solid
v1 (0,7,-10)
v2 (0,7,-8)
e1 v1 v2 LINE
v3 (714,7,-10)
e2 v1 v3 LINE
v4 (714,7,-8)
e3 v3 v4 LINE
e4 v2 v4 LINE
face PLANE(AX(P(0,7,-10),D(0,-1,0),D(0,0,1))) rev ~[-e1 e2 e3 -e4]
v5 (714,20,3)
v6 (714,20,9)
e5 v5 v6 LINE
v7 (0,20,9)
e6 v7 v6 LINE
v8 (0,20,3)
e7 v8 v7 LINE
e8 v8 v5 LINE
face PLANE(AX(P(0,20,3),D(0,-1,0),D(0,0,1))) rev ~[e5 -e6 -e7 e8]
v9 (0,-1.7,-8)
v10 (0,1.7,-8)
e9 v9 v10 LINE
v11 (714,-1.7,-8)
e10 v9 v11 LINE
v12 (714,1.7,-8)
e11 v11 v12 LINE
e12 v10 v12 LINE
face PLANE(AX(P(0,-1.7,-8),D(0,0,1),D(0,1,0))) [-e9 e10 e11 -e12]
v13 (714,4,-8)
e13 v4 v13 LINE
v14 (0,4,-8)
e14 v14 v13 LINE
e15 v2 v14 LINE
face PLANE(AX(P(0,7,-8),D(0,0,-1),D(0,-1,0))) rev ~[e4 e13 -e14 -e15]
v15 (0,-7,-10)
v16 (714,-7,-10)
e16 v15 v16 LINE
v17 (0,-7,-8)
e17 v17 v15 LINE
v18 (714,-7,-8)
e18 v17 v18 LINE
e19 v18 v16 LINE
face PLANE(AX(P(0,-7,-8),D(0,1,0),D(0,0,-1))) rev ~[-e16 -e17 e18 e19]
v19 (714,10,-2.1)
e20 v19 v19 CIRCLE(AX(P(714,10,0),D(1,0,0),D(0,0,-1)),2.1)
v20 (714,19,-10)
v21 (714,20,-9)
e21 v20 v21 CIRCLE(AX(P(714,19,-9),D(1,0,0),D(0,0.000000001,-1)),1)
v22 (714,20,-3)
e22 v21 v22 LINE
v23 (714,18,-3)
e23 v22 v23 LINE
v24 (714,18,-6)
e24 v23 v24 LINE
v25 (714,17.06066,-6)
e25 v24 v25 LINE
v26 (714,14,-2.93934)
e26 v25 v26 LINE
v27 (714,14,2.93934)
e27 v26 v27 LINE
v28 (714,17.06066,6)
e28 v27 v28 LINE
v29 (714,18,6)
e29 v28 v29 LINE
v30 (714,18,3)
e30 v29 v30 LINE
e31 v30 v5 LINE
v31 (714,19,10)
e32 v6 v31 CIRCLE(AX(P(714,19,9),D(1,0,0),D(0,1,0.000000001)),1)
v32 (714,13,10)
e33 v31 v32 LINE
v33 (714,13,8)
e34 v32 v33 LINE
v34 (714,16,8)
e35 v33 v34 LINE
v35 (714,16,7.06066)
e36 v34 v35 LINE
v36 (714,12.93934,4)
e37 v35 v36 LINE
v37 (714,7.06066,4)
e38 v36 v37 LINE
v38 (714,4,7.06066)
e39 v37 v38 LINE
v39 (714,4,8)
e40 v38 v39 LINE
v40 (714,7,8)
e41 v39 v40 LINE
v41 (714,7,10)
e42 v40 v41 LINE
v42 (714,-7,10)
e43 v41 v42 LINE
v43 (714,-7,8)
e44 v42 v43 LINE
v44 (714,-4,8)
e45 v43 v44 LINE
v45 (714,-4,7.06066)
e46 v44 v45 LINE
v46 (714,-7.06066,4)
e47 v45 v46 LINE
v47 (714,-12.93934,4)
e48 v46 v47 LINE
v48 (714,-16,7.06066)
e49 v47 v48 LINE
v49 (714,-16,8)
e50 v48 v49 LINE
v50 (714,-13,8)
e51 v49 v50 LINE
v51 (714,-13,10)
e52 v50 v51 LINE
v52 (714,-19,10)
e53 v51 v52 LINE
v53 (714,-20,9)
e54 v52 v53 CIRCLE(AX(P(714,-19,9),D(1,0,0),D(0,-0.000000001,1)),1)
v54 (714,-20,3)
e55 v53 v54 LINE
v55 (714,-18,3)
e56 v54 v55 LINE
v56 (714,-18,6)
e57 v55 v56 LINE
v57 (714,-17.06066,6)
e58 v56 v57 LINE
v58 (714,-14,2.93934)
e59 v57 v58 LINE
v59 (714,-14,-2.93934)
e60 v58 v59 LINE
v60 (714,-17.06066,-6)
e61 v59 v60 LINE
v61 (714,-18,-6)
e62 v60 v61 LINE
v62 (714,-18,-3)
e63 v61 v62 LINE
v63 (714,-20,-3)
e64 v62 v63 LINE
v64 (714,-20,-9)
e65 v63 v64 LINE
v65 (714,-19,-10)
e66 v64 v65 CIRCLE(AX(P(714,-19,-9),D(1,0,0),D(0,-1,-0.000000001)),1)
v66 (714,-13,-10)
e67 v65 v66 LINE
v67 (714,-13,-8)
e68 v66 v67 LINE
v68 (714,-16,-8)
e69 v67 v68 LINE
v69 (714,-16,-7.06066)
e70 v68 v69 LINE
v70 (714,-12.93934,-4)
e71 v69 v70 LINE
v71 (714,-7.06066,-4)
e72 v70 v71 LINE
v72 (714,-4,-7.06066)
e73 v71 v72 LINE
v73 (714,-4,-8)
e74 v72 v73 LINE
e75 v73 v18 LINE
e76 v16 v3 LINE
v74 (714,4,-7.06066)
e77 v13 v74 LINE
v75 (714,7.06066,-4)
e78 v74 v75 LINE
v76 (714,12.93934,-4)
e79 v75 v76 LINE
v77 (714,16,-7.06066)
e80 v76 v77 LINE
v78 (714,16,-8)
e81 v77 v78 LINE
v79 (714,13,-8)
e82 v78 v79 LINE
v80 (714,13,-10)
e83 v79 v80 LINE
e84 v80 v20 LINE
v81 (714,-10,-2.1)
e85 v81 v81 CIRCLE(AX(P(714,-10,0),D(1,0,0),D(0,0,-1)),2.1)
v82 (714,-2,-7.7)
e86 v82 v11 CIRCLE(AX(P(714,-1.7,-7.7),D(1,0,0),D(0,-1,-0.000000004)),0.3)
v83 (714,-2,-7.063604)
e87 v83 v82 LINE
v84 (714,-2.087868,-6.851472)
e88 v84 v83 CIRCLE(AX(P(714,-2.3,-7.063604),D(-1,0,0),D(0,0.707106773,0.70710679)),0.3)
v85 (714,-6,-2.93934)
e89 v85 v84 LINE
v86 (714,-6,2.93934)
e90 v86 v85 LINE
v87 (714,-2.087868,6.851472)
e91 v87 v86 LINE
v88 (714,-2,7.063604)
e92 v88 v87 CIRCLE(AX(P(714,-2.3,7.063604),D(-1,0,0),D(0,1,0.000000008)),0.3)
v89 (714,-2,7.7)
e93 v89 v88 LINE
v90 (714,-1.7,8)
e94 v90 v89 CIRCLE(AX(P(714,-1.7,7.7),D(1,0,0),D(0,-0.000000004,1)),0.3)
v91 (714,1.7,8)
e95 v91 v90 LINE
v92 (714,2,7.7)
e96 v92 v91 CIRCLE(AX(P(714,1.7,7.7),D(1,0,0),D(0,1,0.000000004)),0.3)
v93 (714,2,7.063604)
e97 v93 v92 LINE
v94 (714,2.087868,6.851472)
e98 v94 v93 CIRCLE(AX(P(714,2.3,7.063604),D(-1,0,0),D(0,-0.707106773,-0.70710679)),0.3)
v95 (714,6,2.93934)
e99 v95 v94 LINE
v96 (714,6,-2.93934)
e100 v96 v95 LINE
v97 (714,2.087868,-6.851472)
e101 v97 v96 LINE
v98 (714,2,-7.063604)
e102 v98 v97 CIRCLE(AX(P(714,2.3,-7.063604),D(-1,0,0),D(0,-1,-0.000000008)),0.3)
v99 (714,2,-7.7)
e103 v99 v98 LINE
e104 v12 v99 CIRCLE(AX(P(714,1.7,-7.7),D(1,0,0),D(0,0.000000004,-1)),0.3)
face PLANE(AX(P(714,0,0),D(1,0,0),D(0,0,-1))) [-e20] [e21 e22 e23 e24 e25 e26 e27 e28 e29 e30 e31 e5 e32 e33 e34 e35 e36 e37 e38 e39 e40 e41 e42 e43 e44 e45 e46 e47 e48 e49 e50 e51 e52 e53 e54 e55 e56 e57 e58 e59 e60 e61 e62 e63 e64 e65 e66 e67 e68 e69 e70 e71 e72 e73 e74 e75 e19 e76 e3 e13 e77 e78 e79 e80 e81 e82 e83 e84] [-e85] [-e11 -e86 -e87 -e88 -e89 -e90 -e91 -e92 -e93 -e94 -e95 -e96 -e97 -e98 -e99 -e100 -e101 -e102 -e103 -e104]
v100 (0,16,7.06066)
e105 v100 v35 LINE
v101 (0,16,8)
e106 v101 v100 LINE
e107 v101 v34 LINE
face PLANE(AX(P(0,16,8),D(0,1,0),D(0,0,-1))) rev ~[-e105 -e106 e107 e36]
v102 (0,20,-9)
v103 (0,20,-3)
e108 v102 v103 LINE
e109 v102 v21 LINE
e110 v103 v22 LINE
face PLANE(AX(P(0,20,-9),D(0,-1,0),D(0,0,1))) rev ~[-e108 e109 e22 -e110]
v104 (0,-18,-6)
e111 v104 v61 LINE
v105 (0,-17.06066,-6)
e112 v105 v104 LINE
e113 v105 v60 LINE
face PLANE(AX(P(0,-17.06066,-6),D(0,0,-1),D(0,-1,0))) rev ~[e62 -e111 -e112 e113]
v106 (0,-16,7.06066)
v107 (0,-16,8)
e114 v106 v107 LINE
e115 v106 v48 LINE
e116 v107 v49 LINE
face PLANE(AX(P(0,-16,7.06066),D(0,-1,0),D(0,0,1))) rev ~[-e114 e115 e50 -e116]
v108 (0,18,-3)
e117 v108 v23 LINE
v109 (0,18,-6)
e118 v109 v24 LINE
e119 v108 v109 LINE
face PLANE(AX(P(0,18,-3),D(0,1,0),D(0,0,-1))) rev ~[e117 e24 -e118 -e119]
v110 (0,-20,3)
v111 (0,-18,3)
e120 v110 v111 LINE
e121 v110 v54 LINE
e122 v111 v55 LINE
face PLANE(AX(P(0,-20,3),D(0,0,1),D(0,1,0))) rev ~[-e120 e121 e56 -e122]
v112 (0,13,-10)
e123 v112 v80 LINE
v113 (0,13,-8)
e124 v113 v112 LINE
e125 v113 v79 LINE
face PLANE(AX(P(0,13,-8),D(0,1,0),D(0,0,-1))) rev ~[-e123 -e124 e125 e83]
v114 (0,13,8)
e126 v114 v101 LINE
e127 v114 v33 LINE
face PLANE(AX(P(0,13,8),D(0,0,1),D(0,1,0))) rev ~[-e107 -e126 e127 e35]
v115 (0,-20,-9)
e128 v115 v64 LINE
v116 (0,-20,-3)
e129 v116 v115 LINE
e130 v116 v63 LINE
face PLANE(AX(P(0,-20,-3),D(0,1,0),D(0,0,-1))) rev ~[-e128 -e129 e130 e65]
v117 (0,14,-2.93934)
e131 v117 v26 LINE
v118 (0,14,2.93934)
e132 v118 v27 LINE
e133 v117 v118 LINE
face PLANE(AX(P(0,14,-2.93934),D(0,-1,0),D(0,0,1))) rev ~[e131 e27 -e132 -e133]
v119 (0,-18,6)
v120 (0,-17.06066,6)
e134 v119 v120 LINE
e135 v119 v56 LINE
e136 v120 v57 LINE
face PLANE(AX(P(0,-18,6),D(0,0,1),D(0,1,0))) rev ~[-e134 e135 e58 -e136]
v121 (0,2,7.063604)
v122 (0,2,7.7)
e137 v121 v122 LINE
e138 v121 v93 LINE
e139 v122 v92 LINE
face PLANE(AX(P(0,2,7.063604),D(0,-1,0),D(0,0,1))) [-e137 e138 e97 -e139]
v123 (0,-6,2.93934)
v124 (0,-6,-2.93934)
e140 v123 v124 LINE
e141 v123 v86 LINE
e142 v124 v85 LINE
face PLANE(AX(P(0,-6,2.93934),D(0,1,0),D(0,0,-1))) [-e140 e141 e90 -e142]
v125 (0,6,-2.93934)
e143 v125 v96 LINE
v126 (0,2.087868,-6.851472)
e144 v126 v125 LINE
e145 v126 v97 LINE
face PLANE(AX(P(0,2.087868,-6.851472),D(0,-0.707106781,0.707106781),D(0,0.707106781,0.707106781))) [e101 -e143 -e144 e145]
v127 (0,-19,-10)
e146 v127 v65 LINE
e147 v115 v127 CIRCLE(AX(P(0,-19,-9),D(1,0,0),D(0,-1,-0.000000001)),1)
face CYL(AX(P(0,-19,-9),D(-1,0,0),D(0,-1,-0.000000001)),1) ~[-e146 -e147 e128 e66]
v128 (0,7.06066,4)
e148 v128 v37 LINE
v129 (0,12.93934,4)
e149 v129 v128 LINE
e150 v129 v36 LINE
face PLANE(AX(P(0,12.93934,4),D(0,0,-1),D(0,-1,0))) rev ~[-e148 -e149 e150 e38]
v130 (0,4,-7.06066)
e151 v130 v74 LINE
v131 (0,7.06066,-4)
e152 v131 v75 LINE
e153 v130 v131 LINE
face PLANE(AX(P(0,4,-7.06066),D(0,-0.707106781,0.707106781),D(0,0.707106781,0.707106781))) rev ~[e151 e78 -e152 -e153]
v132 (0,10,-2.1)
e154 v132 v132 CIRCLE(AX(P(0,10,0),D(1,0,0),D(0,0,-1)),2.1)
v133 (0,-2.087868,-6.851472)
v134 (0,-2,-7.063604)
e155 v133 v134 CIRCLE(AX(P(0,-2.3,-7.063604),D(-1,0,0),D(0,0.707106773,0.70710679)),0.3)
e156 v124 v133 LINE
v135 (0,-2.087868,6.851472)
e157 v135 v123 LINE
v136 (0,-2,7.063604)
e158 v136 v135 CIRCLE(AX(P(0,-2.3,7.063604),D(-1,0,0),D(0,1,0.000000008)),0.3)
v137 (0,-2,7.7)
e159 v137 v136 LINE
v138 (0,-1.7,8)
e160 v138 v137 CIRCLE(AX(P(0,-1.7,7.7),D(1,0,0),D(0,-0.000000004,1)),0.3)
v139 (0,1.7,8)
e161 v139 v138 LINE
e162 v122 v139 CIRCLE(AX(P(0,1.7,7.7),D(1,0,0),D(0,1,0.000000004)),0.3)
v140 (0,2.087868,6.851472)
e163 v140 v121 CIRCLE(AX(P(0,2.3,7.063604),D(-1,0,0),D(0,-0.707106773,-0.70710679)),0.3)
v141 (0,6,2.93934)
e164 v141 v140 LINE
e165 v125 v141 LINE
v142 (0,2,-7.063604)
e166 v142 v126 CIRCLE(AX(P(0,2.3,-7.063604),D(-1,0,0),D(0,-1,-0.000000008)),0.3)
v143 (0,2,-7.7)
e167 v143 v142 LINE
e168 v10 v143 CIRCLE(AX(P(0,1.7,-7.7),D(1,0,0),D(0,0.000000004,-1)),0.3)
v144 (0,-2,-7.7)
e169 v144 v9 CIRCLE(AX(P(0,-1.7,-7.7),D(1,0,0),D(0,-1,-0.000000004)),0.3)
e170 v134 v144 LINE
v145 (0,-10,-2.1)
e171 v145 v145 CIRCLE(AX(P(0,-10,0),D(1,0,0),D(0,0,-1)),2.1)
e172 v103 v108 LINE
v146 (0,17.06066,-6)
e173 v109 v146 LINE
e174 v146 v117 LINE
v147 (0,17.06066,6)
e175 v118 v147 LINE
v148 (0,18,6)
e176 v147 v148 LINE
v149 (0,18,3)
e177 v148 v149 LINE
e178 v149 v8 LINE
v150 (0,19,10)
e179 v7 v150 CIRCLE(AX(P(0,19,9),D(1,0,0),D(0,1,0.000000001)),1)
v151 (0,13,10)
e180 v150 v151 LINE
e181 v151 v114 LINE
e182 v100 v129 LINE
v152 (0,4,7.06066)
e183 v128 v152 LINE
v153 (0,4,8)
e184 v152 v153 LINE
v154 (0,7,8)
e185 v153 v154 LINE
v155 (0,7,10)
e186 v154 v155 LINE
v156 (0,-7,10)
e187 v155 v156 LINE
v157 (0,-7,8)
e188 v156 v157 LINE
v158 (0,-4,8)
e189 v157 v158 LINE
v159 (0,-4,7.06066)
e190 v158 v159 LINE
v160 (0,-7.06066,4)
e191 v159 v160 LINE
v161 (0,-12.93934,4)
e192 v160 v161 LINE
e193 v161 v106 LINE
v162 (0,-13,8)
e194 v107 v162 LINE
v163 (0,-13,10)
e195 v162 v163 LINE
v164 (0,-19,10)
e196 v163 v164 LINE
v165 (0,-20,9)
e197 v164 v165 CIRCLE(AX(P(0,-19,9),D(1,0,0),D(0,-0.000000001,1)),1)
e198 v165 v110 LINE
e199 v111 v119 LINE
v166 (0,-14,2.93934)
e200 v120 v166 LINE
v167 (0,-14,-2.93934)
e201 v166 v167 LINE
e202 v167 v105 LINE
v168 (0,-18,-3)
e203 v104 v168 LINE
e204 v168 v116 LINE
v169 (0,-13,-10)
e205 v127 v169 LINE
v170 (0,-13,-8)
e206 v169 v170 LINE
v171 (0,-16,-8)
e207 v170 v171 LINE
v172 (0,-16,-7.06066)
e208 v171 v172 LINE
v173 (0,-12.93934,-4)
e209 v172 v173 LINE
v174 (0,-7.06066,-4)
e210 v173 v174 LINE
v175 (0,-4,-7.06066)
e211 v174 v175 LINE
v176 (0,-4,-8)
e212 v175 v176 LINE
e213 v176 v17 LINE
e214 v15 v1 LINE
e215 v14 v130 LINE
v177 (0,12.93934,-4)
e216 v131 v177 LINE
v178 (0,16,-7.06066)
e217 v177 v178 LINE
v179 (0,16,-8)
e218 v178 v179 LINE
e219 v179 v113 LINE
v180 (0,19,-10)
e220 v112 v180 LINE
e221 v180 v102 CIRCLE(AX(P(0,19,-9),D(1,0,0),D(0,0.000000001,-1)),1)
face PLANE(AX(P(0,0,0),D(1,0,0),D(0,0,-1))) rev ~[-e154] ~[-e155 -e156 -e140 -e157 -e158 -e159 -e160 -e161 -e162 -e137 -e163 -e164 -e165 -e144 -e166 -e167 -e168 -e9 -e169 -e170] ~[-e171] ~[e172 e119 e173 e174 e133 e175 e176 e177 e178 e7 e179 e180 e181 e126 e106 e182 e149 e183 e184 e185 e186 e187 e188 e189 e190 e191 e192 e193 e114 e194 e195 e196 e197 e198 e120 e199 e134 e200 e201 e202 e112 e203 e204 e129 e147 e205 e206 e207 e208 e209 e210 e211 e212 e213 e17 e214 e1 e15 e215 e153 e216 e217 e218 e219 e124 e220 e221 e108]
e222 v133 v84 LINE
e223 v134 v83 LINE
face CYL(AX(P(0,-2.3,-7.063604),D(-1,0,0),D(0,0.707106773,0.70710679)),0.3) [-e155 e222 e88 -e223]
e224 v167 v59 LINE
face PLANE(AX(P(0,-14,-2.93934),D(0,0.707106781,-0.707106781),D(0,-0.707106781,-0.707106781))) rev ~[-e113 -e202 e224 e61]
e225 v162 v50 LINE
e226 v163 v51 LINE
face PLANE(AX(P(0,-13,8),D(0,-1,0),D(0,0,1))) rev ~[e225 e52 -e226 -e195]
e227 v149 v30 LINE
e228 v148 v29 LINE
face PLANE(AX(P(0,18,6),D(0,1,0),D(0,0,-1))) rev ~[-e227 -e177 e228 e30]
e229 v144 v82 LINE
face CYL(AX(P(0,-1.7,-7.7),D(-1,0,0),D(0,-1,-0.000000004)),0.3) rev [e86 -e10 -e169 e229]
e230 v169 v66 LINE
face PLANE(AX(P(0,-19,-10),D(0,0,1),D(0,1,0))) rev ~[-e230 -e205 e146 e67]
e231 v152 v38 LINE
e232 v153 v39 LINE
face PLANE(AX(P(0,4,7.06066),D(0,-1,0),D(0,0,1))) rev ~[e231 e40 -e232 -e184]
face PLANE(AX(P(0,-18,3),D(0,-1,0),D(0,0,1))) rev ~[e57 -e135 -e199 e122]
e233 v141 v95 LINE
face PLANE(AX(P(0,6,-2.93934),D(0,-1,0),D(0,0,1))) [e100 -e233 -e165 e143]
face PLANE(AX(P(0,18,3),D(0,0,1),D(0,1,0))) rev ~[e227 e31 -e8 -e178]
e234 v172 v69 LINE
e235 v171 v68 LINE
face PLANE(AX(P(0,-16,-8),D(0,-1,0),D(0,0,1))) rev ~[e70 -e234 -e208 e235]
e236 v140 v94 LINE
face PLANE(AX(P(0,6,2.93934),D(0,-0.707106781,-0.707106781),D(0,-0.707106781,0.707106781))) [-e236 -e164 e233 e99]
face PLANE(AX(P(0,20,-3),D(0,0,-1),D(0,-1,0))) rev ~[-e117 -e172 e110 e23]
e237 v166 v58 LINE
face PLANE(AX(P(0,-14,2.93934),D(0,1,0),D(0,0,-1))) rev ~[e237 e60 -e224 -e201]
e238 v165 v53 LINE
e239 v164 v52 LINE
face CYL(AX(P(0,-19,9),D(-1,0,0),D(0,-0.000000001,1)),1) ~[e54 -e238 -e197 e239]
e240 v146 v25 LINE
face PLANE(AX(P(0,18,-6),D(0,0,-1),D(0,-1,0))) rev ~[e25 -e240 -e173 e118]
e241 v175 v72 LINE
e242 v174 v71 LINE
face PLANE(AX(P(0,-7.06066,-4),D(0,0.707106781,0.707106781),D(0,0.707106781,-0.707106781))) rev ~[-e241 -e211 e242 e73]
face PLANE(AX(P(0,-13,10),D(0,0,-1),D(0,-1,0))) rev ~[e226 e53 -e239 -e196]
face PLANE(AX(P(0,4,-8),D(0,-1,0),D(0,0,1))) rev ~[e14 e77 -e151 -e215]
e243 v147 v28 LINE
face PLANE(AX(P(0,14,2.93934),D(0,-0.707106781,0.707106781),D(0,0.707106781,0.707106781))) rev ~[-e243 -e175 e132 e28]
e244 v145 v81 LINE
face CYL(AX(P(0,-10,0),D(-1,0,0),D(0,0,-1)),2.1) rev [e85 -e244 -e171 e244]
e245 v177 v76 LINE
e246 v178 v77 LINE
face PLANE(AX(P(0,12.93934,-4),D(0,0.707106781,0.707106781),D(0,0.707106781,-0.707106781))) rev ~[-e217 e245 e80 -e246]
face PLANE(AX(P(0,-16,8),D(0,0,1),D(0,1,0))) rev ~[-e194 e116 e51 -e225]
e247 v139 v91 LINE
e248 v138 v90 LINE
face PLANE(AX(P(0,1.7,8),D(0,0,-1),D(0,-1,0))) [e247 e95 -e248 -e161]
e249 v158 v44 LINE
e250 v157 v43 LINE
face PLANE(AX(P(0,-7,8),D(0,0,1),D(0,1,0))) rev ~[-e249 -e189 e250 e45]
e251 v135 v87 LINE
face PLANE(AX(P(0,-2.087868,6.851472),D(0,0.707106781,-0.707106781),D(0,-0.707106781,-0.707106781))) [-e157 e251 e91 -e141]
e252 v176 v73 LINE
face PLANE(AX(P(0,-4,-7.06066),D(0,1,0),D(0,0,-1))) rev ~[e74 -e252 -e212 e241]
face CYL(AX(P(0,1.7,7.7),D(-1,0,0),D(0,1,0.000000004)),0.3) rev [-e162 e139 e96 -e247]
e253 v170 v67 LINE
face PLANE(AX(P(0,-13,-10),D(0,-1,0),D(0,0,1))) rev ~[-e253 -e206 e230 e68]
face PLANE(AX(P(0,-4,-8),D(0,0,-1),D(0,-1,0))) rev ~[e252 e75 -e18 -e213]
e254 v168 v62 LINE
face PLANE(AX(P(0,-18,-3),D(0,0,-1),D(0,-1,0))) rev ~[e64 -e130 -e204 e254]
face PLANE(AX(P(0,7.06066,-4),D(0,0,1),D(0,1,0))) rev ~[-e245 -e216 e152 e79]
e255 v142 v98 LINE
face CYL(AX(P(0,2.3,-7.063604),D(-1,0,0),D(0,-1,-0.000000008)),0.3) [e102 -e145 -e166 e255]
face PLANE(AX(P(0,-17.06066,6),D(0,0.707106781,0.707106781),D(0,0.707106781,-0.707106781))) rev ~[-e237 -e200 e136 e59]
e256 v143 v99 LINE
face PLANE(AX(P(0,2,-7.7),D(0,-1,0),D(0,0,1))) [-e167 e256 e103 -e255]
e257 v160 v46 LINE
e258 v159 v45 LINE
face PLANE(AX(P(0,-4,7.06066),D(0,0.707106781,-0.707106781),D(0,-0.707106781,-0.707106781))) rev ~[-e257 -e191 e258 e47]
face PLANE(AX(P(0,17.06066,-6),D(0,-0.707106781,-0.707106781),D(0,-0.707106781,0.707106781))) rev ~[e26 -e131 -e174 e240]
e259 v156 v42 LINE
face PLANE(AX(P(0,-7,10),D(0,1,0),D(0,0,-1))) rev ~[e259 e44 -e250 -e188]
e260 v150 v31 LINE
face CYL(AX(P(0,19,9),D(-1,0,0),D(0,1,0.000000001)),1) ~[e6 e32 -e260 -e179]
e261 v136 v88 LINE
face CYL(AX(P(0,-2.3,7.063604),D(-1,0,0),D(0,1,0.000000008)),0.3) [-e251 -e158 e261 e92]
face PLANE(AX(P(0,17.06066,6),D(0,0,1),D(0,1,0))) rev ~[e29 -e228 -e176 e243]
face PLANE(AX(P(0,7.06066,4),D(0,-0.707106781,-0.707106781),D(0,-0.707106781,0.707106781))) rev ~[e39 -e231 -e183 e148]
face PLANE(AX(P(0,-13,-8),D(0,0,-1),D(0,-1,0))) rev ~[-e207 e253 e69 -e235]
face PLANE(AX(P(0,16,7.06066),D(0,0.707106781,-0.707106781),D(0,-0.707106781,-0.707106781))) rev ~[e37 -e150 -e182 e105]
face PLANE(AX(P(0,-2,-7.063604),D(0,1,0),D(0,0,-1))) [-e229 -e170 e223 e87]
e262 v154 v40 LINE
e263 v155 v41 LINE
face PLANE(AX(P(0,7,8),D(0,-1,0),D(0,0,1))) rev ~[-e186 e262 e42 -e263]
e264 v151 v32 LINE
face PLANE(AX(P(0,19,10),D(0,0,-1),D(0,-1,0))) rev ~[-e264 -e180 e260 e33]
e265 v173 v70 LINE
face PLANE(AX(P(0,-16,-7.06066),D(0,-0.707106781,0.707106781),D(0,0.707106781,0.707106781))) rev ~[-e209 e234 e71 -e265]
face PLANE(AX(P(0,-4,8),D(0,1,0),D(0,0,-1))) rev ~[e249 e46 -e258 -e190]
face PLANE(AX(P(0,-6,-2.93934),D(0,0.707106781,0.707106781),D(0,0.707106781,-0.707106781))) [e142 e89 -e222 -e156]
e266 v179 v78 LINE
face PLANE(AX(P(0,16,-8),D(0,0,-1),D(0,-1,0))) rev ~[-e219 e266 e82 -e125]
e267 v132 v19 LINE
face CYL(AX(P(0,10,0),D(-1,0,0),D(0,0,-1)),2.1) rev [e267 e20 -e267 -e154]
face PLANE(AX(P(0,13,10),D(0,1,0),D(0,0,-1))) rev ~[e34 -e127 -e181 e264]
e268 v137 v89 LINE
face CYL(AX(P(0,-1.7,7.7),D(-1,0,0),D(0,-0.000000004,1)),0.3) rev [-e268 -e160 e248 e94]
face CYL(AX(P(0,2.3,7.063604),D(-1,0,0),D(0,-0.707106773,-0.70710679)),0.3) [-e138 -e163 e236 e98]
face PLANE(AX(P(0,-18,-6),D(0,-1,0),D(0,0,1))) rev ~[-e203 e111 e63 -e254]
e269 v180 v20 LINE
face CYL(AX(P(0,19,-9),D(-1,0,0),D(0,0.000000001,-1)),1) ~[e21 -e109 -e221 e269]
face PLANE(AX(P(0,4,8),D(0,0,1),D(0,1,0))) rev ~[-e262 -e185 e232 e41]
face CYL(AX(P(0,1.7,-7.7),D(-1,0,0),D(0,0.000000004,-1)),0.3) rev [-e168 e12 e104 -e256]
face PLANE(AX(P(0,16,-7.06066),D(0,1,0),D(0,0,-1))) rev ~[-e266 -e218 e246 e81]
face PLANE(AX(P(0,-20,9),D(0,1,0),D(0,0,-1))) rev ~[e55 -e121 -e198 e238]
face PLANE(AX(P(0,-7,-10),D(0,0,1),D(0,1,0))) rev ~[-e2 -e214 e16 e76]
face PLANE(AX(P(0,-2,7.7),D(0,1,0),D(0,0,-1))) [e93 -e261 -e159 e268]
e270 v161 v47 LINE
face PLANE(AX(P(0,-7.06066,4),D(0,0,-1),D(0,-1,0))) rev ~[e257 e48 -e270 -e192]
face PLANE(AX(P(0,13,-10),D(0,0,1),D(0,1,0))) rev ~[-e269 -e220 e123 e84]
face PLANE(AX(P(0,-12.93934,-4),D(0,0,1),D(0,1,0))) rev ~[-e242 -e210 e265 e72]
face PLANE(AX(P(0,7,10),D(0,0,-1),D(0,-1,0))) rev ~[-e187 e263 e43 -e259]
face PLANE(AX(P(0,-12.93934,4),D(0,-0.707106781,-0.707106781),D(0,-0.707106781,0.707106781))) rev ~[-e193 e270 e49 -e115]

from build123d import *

# Parameters (mm, degrees)
SKETCH1_R           = 2.1
BOSS_EXTRUDE1_DEPTH = 714


with BuildPart() as part:
    # Sketch1 → Boss-Extrude1 (new body)
    with BuildSketch(Plane(origin=(0, 0, 0), x_dir=(0, 0, -1), z_dir=(1, 0, 0))):
        with BuildLine():
            Line((-10, -13), (-10, -19))
            ThreePointArc((-10, -19), (-9.707106781, -19.707106781), (-9, -20))
            Line((-9, -20), (-3, -20))
            Line((-3, -20), (-3, -18))
            Line((-3, -18), (-6, -18))
            Line((-6, -18), (-6, -17.060660172))
            Line((-6, -17.060660172), (-2.939339828, -14))
            Line((-2.939339828, -14), (2.939339828, -14))
            Line((2.939339828, -14), (6, -17.060660172))
            Line((6, -17.060660172), (6, -18))
            Line((6, -18), (3, -18))
            Line((3, -18), (3, -20))
            Line((3, -20), (9, -20))
            ThreePointArc((9, -20), (9.707106781, -19.707106781), (10, -19))
            Line((10, -19), (10, -13))
            Line((10, -13), (8, -13))
            Line((8, -13), (8, -16))
            Line((8, -16), (7.060660172, -16))
            Line((7.060660172, -16), (4, -12.939339828))
            Line((4, -12.939339828), (4, -7.060660172))
            Line((4, -7.060660172), (7.060660172, -4))
            Line((7.060660172, -4), (8, -4))
            Line((8, -4), (8, -7))
            Line((8, -7), (10, -7))
            Line((10, -7), (10, 7))
            Line((10, 7), (8, 7))
            Line((8, 7), (8, 4))
            Line((8, 4), (7.060660172, 4))
            Line((7.060660172, 4), (4, 7.060660172))
            Line((4, 7.060660172), (4, 12.939339828))
            Line((4, 12.939339828), (7.060660172, 16))
            Line((7.060660172, 16), (8, 16))
            Line((8, 16), (8, 13))
            Line((8, 13), (10, 13))
            Line((10, 13), (10, 19))
            ThreePointArc((10, 19), (9.707106781, 19.707106781), (9, 20))
            Line((9, 20), (3, 20))
            Line((3, 20), (3, 18))
            Line((3, 18), (6, 18))
            Line((6, 18), (6, 17.060660172))
            Line((6, 17.060660172), (2.939339828, 14))
            Line((2.939339828, 14), (-2.939339828, 14))
            Line((-2.939339828, 14), (-6, 17.060660172))
            Line((-6, 17.060660172), (-6, 18))
            Line((-6, 18), (-3, 18))
            Line((-3, 18), (-3, 20))
            Line((-3, 20), (-9, 20))
            ThreePointArc((-9, 20), (-9.707106781, 19.707106781), (-10, 19))
            Line((-10, 19), (-10, 13))
            Line((-10, 13), (-8, 13))
            Line((-8, 13), (-8, 16))
            Line((-8, 16), (-7.060660172, 16))
            Line((-7.060660172, 16), (-4, 12.939339828))
            Line((-4, 12.939339828), (-4, 7.060660172))
            Line((-4, 7.060660172), (-7.060660172, 4))
            Line((-7.060660172, 4), (-8, 4))
            Line((-8, 4), (-8, 7))
            Line((-8, 7), (-10, 7))
            Line((-10, 7), (-10, -7))
            Line((-10, -7), (-8, -7))
            Line((-8, -7), (-8, -4))
            Line((-8, -4), (-7.060660172, -4))
            Line((-7.060660172, -4), (-4, -7.060660172))
            Line((-4, -7.060660172), (-4, -12.939339828))
            Line((-4, -12.939339828), (-7.060660172, -16))
            Line((-7.060660172, -16), (-8, -16))
            Line((-8, -16), (-8, -13))
            Line((-8, -13), (-10, -13))
        make_face()
        with Locations((0, 10)):
            Circle(SKETCH1_R, mode=Mode.SUBTRACT)
        with Locations((0, -10)):
            Circle(SKETCH1_R, mode=Mode.SUBTRACT)
        with BuildLine():
            Line((-8, 1.7), (-8, -1.7))
            ThreePointArc((-8, -1.7), (-7.912132034, -1.912132034), (-7.7, -2))
            Line((-7.7, -2), (-7.063603897, -2))
            ThreePointArc((-7.063603897, -2), (-6.948798867, -2.02283614), (-6.851471863, -2.087867966))
            Line((-6.851471863, -2.087867966), (-2.939339828, -6))
            Line((-2.939339828, -6), (2.939339828, -6))
            Line((2.939339828, -6), (6.851471863, -2.087867966))
            ThreePointArc((6.851471863, -2.087867966), (6.948798867, -2.02283614), (7.063603897, -2))
            Line((7.063603897, -2), (7.7, -2))
            ThreePointArc((7.7, -2), (7.912132034, -1.912132034), (8, -1.7))
            Line((8, -1.7), (8, 1.7))
            ThreePointArc((8, 1.7), (7.912132034, 1.912132034), (7.7, 2))
            Line((7.7, 2), (7.063603897, 2))
            ThreePointArc((7.063603897, 2), (6.948798867, 2.02283614), (6.851471863, 2.087867966))
            Line((6.851471863, 2.087867966), (2.939339828, 6))
            Line((2.939339828, 6), (-2.939339828, 6))
            Line((-2.939339828, 6), (-6.851471863, 2.087867966))
            ThreePointArc((-6.851471863, 2.087867966), (-6.948798867, 2.02283614), (-7.063603897, 2))
            Line((-7.063603897, 2), (-7.7, 2))
            ThreePointArc((-7.7, 2), (-7.912132034, 1.912132034), (-8, 1.7))
        make_face(mode=Mode.SUBTRACT)
    extrude(amount=BOSS_EXTRUDE1_DEPTH)


solid = part.part
